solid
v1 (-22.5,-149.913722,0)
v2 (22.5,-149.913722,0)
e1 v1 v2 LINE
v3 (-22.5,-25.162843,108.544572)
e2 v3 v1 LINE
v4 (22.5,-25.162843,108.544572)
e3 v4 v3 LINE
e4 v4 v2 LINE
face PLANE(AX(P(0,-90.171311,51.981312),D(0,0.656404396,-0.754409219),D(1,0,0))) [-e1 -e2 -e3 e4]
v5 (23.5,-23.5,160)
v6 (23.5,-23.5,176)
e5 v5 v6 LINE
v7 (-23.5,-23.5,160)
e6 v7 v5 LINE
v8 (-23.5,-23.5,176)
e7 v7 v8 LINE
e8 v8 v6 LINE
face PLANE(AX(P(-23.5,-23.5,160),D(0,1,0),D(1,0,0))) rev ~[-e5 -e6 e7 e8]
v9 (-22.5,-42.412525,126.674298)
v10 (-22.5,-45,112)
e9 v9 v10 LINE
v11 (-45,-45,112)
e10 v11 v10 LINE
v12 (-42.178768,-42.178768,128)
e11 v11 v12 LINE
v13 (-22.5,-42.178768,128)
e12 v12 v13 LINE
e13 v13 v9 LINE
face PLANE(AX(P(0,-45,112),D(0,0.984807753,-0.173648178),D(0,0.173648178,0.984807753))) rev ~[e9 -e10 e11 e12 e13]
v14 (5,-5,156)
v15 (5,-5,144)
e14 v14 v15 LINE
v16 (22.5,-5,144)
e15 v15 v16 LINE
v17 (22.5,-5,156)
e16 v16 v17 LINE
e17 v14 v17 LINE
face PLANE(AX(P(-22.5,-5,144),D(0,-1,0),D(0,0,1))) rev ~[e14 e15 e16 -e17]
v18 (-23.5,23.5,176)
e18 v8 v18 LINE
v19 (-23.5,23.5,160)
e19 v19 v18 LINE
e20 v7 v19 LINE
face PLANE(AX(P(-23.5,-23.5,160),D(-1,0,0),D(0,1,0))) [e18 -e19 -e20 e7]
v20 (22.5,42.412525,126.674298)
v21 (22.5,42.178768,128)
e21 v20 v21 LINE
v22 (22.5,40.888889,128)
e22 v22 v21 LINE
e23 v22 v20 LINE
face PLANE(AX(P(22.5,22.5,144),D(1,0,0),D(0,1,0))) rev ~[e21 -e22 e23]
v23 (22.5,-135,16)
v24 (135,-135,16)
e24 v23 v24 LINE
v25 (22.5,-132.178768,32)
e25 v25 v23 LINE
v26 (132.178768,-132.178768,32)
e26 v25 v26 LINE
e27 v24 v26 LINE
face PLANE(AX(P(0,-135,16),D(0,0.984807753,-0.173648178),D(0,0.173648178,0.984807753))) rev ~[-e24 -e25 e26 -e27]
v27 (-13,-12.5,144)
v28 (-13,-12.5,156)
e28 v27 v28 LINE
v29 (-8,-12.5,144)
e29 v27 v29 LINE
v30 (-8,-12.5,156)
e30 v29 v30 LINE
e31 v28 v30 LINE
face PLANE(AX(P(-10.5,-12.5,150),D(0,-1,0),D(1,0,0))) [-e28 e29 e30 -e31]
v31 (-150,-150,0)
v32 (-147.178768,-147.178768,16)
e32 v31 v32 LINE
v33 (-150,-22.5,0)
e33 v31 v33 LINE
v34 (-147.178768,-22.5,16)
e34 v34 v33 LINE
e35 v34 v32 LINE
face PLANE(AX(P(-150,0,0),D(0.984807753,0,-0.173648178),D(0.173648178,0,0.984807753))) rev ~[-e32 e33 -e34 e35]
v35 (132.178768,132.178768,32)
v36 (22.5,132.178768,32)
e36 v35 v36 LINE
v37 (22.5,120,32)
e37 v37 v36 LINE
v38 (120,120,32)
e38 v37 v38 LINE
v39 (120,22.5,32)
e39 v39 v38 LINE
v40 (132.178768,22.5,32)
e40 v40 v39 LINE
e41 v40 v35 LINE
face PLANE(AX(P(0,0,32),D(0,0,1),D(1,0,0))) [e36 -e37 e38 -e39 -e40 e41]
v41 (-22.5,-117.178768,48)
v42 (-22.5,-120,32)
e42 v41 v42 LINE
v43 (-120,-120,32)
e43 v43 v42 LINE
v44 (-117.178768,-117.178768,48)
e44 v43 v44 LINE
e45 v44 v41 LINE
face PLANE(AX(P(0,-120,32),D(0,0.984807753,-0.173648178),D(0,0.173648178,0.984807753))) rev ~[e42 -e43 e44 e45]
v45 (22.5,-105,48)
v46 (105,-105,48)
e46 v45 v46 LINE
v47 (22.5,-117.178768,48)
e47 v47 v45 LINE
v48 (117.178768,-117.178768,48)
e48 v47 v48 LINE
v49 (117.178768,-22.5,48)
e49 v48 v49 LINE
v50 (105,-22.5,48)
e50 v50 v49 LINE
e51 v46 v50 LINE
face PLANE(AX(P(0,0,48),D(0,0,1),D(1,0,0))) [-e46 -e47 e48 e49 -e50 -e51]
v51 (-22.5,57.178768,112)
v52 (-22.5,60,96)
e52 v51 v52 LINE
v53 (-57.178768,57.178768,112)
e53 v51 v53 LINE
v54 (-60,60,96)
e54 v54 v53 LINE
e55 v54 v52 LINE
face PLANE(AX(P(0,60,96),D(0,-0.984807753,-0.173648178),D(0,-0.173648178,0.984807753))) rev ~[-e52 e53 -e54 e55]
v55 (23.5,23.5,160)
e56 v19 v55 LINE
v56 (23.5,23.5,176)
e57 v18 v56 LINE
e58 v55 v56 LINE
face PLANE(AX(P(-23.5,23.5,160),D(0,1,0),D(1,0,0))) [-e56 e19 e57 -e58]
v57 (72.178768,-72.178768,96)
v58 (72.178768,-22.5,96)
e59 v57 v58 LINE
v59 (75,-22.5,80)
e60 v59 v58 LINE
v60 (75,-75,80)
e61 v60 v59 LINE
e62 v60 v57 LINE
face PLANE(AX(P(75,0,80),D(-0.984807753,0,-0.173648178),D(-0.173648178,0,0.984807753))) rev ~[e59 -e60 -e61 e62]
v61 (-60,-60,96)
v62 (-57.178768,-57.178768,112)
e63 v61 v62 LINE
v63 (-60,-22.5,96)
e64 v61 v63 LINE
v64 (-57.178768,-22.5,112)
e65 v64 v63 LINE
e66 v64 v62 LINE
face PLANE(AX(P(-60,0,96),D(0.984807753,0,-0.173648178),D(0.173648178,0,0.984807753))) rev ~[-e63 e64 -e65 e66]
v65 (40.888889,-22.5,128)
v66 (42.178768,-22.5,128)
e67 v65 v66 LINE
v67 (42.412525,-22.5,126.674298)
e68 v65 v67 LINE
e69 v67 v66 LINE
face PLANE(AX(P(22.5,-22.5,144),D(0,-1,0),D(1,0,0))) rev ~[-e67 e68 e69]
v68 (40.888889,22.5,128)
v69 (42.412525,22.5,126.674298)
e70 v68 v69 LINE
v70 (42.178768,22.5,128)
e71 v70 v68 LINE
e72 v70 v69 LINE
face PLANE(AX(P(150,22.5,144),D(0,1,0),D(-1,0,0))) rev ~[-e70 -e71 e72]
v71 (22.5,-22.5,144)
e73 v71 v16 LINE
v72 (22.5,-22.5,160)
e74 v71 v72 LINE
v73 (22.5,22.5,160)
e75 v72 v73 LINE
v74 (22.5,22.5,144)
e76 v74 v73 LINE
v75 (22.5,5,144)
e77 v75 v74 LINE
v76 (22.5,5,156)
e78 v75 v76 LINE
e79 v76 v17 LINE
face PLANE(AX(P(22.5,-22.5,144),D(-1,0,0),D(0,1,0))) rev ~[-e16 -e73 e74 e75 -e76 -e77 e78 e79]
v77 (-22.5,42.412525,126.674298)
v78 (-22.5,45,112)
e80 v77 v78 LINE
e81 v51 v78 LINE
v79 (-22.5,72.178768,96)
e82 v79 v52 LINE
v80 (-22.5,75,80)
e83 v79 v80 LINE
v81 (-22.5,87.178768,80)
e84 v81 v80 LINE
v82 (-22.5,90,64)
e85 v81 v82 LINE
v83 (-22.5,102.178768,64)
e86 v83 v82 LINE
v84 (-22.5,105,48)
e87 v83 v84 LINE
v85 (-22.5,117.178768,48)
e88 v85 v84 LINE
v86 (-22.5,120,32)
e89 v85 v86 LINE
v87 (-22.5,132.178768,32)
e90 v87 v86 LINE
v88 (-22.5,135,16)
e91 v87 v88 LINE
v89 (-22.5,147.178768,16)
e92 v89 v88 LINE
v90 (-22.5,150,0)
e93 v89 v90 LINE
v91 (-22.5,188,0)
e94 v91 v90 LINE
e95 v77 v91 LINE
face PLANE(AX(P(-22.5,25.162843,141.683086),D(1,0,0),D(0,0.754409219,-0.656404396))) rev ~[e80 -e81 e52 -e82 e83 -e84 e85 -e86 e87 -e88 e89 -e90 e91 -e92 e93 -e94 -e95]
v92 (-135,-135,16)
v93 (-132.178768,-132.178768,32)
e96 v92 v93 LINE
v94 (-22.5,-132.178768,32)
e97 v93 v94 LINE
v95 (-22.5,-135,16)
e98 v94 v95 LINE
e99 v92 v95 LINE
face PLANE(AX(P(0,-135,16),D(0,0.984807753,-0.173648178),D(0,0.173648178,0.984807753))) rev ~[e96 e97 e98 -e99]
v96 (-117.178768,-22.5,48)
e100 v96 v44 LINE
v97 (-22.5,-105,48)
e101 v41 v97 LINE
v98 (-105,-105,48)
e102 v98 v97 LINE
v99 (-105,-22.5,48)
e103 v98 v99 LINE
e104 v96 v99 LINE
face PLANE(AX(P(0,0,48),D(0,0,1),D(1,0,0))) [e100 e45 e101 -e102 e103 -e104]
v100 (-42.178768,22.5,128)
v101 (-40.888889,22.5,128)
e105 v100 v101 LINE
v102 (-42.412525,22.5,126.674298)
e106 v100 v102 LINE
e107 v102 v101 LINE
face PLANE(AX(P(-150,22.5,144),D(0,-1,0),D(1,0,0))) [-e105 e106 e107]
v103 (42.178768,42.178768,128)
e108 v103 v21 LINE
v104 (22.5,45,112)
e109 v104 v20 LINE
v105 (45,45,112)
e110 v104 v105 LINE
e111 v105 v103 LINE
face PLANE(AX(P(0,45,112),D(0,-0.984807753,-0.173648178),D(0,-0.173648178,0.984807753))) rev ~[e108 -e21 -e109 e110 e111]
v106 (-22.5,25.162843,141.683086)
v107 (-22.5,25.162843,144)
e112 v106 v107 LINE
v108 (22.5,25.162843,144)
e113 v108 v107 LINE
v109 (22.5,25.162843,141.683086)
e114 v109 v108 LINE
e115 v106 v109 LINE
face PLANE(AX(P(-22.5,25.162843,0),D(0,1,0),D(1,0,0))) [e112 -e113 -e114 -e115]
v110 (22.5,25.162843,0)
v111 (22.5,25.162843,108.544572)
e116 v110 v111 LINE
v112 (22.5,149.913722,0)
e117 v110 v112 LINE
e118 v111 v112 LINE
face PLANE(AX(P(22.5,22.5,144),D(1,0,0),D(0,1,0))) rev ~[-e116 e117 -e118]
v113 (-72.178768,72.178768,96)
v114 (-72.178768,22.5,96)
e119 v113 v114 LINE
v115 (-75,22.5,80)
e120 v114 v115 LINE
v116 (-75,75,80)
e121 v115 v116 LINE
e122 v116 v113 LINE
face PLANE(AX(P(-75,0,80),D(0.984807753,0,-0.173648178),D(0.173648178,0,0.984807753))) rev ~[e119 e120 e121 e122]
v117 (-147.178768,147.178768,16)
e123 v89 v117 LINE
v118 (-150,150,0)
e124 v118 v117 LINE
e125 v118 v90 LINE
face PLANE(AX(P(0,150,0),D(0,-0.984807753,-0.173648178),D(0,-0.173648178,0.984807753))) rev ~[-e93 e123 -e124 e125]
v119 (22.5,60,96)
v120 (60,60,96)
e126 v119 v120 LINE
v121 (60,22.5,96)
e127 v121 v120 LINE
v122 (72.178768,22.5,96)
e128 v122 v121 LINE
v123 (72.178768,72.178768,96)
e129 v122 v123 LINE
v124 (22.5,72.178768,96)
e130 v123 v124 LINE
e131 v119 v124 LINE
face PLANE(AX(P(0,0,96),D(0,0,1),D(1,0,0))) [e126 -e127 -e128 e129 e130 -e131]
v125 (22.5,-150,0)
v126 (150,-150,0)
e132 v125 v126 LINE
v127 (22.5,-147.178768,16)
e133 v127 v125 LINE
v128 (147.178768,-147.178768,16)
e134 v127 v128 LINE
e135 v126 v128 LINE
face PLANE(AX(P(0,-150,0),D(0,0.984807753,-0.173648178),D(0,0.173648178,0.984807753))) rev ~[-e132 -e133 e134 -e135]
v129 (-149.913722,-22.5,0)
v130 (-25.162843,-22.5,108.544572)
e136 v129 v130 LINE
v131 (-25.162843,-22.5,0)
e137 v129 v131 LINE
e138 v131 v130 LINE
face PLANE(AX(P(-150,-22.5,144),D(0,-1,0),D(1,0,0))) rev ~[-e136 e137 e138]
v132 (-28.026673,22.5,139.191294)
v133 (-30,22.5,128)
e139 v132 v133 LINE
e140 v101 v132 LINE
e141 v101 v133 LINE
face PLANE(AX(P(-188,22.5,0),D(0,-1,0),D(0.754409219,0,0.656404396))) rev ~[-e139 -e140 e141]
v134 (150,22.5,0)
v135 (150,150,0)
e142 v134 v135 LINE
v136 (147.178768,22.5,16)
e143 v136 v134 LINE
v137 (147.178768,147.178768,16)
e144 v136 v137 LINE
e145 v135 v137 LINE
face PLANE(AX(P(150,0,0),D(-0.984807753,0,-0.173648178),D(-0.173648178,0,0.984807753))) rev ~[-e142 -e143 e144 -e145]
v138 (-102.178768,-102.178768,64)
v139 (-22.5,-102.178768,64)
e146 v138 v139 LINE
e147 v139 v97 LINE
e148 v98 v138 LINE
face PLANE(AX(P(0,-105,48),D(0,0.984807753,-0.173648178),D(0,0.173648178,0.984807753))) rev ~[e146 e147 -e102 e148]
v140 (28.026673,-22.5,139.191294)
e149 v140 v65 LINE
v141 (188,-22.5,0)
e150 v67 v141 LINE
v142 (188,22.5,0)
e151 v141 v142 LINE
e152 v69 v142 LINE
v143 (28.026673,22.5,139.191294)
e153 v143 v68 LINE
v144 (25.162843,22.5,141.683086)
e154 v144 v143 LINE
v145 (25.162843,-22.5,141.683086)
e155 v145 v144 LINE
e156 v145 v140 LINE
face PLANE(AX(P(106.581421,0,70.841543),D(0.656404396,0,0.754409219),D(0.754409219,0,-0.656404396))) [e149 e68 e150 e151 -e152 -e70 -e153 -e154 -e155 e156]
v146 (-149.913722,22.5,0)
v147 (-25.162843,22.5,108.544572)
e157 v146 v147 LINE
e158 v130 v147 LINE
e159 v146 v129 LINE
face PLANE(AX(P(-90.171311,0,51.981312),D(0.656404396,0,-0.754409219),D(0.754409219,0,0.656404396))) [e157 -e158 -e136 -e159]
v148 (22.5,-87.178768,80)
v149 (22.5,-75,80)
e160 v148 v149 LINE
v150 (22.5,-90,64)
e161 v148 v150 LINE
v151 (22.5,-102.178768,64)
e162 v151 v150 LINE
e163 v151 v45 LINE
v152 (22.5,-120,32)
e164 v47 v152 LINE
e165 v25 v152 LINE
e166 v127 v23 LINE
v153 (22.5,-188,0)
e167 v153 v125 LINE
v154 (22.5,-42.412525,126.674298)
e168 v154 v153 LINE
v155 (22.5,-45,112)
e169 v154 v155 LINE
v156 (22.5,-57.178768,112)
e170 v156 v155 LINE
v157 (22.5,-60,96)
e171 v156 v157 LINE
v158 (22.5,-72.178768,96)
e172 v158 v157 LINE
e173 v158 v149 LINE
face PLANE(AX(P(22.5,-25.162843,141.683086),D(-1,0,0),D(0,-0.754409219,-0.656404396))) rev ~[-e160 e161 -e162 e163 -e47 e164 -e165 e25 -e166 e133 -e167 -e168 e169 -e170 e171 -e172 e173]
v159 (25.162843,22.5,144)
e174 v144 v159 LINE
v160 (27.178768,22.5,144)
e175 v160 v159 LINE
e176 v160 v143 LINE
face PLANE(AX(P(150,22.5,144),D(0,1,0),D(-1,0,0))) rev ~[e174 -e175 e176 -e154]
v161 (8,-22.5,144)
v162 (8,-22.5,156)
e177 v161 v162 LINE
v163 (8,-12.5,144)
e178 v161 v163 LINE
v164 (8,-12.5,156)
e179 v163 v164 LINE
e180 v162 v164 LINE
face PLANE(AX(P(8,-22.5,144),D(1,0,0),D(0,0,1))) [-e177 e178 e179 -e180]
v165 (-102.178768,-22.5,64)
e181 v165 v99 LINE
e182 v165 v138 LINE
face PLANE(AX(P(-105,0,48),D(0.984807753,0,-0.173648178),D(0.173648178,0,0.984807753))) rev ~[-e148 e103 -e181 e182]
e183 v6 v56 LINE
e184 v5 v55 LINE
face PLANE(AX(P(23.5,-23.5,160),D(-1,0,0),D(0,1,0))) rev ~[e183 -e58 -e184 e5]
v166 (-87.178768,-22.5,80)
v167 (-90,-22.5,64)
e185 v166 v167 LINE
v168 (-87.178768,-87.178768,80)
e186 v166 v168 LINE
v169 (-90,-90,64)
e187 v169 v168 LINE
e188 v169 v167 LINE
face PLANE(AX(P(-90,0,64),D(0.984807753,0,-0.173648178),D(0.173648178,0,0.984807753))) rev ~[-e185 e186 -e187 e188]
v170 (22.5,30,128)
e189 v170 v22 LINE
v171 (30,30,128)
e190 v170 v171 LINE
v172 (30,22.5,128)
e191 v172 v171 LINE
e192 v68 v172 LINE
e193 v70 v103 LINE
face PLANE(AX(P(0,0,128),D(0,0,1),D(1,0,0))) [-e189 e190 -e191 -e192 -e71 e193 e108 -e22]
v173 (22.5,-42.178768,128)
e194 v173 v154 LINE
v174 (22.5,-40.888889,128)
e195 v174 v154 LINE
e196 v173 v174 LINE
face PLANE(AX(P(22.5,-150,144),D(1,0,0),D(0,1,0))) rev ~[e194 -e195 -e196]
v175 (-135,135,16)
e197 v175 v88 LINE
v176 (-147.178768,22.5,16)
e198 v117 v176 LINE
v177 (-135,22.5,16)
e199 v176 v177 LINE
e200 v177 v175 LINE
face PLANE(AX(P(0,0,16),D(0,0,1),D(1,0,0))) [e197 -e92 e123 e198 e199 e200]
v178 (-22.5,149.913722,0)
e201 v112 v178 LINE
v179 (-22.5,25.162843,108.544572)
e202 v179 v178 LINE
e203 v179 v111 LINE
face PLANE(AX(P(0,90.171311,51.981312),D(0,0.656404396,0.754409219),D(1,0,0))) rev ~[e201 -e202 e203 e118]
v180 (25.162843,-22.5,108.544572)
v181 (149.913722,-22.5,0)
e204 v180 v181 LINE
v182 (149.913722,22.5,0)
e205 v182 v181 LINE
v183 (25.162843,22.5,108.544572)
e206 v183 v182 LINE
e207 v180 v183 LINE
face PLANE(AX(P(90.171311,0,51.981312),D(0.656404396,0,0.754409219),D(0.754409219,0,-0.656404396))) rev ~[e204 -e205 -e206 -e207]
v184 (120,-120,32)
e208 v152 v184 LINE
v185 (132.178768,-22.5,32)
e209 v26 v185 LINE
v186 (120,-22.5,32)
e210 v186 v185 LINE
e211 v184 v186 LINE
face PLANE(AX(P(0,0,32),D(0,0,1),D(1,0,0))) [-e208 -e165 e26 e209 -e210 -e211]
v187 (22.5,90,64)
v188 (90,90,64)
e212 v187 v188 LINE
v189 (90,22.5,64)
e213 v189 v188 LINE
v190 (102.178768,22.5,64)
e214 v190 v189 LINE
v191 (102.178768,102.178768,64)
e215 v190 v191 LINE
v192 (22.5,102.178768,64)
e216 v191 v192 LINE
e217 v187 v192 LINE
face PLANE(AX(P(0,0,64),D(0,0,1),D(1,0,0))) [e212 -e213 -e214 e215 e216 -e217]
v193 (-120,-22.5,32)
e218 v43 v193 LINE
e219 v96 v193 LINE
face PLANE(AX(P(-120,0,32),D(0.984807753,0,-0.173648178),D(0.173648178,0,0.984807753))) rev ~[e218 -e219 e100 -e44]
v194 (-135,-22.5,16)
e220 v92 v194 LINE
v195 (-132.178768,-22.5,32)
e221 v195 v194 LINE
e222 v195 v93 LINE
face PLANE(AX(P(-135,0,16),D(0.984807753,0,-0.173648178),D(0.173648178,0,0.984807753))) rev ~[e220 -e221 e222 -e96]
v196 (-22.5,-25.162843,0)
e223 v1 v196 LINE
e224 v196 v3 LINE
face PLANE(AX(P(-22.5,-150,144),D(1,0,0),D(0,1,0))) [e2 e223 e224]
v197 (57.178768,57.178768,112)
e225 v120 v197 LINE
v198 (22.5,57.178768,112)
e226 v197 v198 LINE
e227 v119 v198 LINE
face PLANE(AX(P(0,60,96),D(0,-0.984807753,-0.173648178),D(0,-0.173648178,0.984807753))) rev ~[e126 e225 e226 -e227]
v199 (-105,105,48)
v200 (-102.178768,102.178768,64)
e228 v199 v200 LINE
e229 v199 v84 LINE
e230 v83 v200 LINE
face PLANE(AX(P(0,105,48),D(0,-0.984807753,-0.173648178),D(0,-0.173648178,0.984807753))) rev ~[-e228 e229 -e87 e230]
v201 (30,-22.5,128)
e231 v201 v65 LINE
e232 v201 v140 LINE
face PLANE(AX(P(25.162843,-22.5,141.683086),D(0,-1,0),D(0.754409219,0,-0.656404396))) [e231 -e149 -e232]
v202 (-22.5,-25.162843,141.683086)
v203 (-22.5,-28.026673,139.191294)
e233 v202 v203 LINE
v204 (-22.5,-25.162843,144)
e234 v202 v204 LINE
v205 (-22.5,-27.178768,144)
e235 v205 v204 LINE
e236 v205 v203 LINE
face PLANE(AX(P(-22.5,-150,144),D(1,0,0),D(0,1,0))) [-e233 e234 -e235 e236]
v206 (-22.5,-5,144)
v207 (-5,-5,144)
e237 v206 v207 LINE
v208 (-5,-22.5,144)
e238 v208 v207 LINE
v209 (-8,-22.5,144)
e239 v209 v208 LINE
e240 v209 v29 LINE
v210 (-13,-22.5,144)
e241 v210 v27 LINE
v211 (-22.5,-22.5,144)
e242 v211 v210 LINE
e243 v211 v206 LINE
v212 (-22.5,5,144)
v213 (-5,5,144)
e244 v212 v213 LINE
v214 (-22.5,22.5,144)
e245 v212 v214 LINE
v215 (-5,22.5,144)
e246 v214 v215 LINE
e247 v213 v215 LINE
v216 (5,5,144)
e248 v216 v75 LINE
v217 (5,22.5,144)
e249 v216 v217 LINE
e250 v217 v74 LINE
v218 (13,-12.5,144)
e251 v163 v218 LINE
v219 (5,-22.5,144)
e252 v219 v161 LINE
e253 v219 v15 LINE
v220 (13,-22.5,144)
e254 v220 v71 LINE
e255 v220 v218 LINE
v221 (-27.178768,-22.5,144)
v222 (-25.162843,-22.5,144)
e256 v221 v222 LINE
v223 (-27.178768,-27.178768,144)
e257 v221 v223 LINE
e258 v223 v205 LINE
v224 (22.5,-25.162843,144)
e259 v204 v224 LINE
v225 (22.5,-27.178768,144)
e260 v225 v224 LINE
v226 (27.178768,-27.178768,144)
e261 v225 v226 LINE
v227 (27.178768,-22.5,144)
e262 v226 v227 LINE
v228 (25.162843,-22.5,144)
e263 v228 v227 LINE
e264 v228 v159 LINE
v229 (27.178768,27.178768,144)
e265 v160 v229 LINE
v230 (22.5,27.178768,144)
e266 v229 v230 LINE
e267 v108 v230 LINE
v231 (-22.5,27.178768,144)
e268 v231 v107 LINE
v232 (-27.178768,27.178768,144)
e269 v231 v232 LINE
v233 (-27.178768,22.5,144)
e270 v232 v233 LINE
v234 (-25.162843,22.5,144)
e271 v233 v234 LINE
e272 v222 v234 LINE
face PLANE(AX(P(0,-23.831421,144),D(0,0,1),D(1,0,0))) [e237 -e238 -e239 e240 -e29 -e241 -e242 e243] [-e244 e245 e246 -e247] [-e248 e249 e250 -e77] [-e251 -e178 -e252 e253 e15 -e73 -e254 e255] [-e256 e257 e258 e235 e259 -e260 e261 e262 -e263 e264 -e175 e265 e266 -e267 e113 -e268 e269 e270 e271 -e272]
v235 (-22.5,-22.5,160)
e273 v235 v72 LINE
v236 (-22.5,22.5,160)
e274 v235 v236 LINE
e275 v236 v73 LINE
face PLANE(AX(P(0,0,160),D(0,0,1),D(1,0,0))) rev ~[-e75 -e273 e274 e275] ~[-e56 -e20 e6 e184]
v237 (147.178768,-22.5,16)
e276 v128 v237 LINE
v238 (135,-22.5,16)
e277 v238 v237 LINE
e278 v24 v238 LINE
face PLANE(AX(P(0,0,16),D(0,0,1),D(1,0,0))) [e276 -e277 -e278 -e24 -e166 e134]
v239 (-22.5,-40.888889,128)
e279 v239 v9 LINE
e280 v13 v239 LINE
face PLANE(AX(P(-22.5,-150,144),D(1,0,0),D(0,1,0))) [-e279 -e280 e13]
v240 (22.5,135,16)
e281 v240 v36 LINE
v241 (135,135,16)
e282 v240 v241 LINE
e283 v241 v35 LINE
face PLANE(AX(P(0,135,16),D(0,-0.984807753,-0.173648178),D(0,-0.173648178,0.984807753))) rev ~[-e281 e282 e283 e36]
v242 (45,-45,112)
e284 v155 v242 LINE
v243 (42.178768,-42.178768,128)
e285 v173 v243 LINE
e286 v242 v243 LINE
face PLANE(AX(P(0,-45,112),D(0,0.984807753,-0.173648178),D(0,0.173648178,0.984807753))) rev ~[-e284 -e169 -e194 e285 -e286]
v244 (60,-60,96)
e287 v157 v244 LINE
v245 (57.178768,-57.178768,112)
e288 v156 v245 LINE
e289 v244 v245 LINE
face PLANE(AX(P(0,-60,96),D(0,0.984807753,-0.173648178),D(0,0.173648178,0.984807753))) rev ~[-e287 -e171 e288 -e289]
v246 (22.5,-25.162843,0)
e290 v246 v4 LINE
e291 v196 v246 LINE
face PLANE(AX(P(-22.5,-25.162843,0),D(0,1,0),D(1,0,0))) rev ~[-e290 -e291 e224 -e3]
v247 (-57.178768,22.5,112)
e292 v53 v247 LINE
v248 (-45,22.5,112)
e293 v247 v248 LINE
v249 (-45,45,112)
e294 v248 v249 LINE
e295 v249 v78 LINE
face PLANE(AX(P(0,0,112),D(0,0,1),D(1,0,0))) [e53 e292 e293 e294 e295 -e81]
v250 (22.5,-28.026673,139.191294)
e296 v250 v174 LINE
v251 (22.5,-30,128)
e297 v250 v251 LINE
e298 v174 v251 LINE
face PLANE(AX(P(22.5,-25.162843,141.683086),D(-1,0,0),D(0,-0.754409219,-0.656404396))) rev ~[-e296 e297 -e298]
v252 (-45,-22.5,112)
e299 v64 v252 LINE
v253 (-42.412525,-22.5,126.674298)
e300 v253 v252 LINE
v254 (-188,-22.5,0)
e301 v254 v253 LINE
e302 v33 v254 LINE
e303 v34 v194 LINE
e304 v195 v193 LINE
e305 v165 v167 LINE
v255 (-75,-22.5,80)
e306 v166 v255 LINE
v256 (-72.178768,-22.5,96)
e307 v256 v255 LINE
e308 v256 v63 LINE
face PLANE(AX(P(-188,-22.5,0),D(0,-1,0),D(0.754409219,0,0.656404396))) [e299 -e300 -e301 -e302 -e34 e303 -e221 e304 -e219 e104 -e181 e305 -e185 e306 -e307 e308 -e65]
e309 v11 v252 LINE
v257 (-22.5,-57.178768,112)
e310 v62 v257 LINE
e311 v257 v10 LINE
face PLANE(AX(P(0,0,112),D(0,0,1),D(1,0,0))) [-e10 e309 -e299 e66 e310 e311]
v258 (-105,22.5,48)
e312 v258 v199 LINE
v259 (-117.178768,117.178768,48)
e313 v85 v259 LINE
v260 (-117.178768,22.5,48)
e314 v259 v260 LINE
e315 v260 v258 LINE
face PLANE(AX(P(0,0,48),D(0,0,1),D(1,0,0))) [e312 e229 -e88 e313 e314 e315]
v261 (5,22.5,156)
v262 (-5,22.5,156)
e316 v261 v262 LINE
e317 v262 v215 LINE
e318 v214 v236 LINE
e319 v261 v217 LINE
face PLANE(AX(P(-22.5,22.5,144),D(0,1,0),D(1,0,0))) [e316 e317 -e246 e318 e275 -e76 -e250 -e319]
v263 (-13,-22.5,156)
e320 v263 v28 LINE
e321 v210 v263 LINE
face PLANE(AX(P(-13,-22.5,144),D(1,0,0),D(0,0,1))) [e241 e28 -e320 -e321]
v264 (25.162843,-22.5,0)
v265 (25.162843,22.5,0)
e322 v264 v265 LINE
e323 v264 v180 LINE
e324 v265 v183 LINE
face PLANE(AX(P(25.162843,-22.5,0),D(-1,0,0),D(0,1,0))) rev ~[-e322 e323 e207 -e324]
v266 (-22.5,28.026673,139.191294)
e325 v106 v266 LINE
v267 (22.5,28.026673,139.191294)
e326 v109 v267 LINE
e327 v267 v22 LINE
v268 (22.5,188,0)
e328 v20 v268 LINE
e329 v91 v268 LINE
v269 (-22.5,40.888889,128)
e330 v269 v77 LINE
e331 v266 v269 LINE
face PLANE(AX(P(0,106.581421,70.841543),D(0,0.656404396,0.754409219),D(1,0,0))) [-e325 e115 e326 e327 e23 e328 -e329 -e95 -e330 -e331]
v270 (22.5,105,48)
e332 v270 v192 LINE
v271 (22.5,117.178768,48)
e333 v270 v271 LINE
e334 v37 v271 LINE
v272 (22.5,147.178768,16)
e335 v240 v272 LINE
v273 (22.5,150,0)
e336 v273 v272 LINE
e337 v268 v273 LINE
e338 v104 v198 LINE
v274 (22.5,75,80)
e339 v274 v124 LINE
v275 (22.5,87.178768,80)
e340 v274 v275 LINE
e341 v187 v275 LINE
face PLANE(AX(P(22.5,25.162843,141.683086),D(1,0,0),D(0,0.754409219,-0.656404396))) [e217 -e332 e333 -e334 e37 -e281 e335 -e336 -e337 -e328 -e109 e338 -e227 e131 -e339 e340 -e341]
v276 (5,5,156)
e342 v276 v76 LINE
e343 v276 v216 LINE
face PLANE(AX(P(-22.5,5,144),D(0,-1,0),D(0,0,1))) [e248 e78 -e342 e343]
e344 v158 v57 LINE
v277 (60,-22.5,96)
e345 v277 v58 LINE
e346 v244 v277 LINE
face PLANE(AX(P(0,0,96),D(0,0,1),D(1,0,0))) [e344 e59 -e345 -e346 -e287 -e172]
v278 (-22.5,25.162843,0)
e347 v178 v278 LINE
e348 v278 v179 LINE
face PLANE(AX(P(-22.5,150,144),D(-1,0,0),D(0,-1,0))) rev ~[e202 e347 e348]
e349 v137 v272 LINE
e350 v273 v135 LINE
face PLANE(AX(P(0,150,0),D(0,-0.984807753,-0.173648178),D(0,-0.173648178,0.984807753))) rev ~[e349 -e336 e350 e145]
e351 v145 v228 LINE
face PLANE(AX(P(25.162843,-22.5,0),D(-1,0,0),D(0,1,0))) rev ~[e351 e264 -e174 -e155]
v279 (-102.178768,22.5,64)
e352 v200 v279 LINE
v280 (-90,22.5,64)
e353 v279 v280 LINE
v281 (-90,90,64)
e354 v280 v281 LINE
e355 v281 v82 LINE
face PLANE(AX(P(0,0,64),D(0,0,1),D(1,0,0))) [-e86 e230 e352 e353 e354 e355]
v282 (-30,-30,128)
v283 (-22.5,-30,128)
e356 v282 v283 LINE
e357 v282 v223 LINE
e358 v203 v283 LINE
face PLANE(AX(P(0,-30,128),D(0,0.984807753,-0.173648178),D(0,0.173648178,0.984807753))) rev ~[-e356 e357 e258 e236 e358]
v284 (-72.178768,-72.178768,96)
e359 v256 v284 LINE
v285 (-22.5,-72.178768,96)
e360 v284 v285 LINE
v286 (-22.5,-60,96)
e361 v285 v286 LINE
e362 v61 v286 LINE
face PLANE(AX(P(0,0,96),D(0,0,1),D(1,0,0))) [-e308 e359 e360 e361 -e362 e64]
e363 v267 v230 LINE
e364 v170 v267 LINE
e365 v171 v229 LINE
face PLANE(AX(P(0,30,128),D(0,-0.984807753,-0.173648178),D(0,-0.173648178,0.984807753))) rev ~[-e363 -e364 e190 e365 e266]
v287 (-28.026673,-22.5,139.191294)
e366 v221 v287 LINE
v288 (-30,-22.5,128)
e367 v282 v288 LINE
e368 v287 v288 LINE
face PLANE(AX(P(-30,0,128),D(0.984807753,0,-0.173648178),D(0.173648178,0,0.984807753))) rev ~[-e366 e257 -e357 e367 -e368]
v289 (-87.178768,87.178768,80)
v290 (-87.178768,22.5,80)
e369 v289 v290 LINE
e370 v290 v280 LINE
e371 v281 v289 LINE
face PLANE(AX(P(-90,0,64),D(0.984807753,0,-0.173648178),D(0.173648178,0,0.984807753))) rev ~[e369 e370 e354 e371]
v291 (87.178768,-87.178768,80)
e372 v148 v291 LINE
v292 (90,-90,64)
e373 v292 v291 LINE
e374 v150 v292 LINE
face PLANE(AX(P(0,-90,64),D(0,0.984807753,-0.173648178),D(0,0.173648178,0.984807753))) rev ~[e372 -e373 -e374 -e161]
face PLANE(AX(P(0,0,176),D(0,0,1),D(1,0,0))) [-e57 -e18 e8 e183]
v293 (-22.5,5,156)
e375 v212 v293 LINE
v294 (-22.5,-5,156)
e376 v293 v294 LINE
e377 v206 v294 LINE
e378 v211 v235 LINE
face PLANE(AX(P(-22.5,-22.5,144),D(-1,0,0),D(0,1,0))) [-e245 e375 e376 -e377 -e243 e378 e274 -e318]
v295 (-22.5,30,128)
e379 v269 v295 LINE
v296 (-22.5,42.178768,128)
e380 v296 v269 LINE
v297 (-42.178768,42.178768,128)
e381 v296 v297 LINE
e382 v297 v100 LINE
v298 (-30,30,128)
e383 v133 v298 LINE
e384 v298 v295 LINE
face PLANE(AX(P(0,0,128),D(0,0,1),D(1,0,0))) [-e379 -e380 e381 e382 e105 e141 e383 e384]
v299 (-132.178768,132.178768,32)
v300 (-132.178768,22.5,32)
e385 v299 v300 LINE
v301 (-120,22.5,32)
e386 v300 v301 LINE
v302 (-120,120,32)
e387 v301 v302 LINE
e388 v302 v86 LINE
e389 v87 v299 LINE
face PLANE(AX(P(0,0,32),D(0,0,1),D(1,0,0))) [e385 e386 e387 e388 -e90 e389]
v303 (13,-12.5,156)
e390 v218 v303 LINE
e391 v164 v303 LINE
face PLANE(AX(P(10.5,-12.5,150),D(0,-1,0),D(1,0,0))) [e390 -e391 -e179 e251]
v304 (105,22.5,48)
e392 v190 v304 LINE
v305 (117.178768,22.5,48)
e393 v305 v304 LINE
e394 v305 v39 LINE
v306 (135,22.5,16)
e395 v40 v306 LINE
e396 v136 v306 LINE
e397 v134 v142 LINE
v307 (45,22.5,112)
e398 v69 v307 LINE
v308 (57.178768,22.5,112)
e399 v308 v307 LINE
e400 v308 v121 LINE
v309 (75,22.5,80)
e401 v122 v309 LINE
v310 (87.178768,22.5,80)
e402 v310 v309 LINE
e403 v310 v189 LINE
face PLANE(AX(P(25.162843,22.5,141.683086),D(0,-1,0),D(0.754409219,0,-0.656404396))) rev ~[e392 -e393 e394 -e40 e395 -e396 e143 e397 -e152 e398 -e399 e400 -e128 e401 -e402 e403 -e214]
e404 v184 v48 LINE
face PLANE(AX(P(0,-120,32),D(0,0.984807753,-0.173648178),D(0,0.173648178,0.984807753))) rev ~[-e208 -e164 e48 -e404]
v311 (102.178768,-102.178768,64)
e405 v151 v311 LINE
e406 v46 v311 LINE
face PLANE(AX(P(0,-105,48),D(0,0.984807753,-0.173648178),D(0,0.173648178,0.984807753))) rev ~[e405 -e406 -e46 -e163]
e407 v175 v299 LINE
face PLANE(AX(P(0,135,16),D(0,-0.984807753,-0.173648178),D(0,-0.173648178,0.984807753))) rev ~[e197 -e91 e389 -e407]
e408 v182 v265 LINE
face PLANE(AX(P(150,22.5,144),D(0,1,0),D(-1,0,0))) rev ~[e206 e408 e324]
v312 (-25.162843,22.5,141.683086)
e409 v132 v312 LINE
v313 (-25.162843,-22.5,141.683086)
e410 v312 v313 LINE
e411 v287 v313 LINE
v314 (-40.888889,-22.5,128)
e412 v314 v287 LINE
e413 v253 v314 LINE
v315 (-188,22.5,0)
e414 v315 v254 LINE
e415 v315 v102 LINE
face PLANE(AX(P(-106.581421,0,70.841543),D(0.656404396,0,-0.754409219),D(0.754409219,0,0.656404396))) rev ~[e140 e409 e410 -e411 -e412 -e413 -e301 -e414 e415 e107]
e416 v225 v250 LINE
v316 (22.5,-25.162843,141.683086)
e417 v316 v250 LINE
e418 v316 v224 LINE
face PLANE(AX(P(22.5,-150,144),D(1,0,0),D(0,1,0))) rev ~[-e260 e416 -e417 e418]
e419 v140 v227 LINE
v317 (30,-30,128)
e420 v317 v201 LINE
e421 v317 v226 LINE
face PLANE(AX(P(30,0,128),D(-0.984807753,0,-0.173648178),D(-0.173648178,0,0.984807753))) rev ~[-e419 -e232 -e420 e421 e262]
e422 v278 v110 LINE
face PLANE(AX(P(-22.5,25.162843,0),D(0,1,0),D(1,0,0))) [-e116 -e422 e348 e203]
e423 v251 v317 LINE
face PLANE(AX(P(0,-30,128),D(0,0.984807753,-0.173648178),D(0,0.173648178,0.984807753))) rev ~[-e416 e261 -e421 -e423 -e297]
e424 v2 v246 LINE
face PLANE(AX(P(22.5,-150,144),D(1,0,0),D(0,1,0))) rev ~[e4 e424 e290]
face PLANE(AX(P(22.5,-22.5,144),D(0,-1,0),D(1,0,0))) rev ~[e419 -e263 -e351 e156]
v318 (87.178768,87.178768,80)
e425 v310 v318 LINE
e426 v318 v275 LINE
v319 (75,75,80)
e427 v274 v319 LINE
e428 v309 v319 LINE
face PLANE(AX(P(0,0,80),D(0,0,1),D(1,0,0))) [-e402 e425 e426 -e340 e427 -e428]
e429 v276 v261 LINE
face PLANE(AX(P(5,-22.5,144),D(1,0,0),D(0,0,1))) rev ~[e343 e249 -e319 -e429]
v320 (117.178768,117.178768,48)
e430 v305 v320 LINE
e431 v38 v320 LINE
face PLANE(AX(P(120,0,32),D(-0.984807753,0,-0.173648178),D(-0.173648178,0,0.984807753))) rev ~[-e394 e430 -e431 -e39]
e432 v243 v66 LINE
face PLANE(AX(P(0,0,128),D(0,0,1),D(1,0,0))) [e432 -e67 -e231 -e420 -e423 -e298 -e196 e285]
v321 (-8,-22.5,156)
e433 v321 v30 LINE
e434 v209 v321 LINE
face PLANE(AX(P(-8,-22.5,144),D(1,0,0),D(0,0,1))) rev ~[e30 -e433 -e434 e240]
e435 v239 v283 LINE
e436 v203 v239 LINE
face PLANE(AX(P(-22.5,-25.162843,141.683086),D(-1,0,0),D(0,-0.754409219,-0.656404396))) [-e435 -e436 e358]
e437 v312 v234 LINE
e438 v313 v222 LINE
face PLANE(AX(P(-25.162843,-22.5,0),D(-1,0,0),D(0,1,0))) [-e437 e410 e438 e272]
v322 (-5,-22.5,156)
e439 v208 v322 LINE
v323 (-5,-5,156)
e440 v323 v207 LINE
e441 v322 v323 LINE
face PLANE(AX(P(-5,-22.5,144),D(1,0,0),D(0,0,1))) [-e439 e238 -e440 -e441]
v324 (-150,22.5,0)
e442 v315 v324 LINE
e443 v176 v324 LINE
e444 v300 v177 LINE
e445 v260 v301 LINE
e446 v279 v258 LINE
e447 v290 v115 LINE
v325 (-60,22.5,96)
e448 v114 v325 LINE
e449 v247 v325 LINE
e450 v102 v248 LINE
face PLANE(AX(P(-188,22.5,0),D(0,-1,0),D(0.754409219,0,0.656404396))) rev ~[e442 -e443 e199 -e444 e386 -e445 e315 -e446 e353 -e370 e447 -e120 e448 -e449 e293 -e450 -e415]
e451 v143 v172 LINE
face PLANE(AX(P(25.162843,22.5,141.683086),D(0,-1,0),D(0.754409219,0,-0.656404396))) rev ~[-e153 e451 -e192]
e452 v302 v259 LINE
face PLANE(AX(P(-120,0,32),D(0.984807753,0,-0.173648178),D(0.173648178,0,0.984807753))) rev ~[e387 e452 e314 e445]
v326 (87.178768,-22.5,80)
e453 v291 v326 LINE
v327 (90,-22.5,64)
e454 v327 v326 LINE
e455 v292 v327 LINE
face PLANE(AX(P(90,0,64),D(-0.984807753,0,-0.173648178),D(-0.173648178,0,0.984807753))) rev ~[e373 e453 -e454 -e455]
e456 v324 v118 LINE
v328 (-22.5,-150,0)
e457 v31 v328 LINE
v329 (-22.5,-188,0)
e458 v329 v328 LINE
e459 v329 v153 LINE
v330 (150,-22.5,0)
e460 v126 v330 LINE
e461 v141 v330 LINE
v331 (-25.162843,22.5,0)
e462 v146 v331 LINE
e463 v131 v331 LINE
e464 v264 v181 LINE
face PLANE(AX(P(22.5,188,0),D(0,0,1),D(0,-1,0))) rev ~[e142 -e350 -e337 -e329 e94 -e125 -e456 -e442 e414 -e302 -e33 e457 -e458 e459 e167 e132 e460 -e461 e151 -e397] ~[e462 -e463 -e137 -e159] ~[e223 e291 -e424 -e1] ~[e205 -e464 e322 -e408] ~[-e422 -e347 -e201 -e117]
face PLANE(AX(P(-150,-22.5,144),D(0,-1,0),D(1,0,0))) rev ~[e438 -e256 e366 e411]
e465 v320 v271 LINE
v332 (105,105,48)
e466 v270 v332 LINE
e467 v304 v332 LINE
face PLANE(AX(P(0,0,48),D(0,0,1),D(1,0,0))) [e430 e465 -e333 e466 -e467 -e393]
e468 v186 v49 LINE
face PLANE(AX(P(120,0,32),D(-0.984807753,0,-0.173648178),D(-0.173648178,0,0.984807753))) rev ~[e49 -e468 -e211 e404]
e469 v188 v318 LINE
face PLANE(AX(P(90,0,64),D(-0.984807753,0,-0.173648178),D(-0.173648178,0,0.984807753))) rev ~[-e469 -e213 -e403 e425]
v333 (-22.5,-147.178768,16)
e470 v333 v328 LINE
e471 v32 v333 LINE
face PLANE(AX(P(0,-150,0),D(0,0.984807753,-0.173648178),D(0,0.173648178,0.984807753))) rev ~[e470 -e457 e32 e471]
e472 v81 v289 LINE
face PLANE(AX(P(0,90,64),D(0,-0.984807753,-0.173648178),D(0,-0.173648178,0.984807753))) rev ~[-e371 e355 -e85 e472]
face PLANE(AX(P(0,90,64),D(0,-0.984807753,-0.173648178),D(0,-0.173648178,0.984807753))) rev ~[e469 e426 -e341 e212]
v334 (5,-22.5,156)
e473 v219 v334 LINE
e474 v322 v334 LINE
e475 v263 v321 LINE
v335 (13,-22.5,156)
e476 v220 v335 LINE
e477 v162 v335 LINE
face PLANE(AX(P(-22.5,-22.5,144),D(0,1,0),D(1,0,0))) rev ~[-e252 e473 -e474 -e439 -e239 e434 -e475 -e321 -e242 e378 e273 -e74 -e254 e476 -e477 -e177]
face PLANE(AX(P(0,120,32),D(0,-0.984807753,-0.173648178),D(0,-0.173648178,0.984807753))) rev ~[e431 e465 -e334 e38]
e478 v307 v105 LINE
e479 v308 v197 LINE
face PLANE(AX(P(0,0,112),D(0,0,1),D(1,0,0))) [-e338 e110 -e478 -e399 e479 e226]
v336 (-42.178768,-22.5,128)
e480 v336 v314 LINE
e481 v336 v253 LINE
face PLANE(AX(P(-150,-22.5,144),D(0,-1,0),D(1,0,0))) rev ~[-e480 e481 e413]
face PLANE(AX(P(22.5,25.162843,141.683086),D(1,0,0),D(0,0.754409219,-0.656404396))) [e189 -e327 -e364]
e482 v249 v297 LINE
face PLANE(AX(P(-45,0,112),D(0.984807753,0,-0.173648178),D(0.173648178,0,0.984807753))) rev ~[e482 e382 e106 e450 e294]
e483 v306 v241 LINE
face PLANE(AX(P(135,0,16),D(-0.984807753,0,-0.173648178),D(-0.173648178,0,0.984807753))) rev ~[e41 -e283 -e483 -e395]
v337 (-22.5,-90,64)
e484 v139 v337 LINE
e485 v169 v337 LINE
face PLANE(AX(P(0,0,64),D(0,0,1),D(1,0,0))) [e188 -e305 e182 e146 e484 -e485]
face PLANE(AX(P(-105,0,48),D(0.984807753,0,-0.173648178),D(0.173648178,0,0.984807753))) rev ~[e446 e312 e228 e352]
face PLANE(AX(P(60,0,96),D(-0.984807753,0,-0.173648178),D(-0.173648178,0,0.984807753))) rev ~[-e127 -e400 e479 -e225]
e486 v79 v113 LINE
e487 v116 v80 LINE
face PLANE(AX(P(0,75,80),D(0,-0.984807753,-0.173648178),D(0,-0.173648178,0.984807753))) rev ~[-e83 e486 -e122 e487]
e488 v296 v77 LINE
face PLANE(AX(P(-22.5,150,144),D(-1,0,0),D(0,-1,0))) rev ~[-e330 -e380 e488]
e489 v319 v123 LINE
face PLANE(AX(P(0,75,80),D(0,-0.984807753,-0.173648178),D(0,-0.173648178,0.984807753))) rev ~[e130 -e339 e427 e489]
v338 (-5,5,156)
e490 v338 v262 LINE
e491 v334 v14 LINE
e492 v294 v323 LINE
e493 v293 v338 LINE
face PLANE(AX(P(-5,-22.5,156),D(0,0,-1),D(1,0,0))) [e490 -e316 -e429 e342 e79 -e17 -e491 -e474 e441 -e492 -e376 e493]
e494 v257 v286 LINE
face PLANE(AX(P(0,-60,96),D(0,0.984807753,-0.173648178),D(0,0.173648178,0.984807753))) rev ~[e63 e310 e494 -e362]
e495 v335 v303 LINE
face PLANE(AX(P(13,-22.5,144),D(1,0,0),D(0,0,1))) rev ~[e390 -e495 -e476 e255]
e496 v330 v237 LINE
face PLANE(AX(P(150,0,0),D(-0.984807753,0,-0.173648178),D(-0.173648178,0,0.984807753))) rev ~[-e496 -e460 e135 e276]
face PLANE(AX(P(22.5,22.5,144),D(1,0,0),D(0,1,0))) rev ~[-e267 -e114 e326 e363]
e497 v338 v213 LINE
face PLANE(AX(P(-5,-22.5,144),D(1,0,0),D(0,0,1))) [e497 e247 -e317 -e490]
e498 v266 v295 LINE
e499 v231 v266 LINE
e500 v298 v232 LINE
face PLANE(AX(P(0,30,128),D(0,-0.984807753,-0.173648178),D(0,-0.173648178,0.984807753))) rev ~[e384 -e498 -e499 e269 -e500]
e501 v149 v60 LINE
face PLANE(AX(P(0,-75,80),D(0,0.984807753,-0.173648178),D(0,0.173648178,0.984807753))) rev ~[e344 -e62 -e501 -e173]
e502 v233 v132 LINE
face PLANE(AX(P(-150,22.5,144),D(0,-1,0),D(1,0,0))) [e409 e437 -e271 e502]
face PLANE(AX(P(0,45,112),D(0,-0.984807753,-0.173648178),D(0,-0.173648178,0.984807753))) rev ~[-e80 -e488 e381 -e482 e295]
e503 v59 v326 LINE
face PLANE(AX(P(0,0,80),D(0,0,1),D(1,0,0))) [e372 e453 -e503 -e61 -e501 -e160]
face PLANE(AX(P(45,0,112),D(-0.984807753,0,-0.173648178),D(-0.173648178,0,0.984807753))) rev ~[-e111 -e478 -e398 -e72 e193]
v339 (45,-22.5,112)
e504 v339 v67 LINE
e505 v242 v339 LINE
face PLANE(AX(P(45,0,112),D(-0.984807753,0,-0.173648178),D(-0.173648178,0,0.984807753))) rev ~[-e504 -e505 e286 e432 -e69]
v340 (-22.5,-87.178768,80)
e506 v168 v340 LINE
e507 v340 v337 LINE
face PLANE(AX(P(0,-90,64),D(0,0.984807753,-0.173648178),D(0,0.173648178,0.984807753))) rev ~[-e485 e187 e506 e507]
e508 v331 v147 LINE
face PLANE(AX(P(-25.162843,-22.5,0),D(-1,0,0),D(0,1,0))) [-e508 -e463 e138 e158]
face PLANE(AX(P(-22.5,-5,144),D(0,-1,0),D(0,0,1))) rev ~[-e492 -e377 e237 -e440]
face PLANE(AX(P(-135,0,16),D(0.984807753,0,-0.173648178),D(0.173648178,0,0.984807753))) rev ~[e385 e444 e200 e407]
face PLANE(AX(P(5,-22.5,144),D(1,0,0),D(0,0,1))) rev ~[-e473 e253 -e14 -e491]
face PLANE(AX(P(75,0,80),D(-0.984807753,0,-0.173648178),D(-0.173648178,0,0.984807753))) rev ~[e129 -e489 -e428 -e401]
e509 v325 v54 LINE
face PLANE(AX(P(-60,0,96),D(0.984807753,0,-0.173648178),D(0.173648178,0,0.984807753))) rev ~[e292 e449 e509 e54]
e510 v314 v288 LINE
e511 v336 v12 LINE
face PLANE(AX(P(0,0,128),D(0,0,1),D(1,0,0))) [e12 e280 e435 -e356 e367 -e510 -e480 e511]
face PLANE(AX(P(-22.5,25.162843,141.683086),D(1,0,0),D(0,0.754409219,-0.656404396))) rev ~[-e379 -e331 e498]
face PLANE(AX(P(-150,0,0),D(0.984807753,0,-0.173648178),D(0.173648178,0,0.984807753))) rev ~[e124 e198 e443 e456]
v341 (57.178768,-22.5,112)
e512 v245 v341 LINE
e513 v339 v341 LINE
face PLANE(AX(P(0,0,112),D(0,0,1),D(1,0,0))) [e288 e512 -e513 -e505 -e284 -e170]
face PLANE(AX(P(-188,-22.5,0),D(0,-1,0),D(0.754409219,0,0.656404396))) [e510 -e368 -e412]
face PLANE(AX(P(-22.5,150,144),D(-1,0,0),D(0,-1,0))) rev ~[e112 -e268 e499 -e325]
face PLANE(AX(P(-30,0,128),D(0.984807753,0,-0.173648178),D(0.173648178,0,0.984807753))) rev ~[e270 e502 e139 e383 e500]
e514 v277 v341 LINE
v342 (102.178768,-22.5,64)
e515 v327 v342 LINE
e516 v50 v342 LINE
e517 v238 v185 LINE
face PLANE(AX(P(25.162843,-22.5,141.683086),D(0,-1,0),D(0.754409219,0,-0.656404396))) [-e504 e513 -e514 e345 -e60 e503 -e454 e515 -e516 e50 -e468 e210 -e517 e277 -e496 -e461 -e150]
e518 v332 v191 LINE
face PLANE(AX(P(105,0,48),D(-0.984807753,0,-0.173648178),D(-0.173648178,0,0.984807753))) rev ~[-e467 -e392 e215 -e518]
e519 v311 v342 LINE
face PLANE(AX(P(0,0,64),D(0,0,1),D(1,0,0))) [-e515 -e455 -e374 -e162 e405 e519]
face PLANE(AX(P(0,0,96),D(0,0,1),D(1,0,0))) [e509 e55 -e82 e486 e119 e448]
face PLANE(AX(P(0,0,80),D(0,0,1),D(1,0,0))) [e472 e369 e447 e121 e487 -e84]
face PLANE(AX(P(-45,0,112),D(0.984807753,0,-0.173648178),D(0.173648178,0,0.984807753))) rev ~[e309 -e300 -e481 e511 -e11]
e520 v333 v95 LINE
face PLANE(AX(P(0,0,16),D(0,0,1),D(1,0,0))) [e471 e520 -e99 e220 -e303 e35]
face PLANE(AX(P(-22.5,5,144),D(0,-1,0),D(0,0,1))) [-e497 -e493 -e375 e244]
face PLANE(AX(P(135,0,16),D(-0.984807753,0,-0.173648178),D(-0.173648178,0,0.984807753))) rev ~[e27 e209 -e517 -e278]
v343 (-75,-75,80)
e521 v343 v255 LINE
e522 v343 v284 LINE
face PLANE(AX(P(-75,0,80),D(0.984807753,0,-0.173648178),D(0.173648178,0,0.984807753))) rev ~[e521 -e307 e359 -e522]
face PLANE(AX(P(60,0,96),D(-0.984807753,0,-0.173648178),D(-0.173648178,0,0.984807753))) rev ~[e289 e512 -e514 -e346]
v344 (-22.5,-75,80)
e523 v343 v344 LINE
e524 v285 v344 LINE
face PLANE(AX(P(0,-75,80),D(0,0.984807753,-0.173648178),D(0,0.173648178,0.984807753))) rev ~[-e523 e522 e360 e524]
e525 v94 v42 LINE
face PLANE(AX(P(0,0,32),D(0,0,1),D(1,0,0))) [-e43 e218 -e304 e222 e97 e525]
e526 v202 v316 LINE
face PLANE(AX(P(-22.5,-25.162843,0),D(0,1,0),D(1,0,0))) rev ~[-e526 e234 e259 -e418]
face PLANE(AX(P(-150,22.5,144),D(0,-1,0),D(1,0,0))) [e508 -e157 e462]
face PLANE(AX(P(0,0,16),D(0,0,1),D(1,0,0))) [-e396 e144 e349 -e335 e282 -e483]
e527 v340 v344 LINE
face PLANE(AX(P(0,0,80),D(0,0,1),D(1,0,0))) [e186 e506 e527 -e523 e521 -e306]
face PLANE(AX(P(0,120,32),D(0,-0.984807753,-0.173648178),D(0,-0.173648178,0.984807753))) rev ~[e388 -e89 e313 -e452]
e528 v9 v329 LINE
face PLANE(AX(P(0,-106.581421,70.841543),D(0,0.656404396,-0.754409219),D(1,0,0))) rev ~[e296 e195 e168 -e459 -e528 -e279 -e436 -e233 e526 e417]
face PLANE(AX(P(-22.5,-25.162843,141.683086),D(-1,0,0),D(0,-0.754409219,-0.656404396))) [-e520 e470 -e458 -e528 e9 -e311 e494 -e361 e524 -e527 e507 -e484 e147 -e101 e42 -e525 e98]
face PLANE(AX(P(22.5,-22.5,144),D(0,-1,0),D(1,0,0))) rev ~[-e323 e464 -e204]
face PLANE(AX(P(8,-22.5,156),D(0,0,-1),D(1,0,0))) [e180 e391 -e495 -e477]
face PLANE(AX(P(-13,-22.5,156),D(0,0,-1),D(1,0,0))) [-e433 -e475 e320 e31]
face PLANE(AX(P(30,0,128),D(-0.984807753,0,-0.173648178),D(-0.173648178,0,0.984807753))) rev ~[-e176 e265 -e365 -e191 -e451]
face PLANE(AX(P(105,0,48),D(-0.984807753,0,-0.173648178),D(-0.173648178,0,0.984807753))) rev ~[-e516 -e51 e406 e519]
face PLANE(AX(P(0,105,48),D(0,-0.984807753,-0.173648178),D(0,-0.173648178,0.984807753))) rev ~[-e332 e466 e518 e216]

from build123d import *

# Parameters (mm, degrees)
F0_W      = 300
F0_H      = 300
F1_DEPTH  = 16
F1_TAPER  = 10
F2_W      = 270
F2_H      = 270
F3_DEPTH  = 16
F3_TAPER  = 10
F4_W      = 240
F4_H      = 240
F5_DEPTH  = 16
F5_TAPER  = 10
F6_W      = 210
F6_H      = 210
F7_DEPTH  = 16
F7_TAPER  = 10
F8_W      = 180
F8_H      = 180
F9_DEPTH  = 16
F9_TAPER  = 10
F10_W     = 150
F10_H     = 150
F11_DEPTH = 16
F11_TAPER = 10
F12_W     = 120
F12_H     = 120
F13_DEPTH = 16
F13_TAPER = 10
F14_W     = 90
F14_H     = 90
F15_DEPTH = 16
F15_TAPER = 10
F16_W     = 60
F16_H     = 60
F17_DEPTH = 16
F17_TAPER = 10
F18_W     = 127.5
F18_H     = 45
F18_W_2   = 45
F18_H_2   = 127.5
F19_DEPTH = 144.001
F24_W     = 215.8472527365
F24_H     = 45
F25_DEPTH = 25
F35_DEPTH = 172.501
F36_W     = 45
F36_H     = 215.8472527365
F37_DEPTH = 25
F39_DEPTH = 172.501
F40_W     = 45
F40_H     = 16.4101098933
F41_DEPTH = 144.001
F42_W     = 45
F42_H     = 215.8472527365
F43_DEPTH = 25
F44_W     = 215.8472527365
F44_H     = 45
F45_DEPTH = 25
F47_DEPTH = 210.501
F49_DEPTH = 210.501
F51_DEPTH = 144.001
F52_W     = 2.6628427036
F52_H     = 45
F53_DEPTH = 144.001
F54_W     = 45
F54_H     = 2.6628427036
F54_H_2   = 45
F54_W_2   = 2.6628427036
F55_DEPTH = 144
F57_W     = 45
F57_H     = 45
F58_DEPTH = 16
F59_W     = 47
F59_H     = 47
F60_DEPTH = 16
F61_W     = 10
F61_H     = 12
F62_DEPTH = 210.501
F61_W_2   = 5
F63_DEPTH = 10
F64_W     = 10
F64_H     = 12
F65_DEPTH = 210.501


with BuildPart() as f1:
    # F0 (on Top) → F1 (new body)
    with BuildSketch(Plane.XY):
        Rectangle(F0_W, F0_H)
    extrude(amount=F1_DEPTH, taper=F1_TAPER)

    # F2 (on face) → F3 (join)
    with BuildSketch(Plane.XY.offset(16)):
        Rectangle(F2_W, F2_H)
    extrude(amount=F3_DEPTH, taper=F3_TAPER)

    # F4 (on face) → F5 (join)
    with BuildSketch(Plane.XY.offset(32)):
        Rectangle(F4_W, F4_H)
    extrude(amount=F5_DEPTH, taper=F5_TAPER)

    # F6 (on face) → F7 (join)
    with BuildSketch(Plane.XY.offset(48)):
        Rectangle(F6_W, F6_H)
    extrude(amount=F7_DEPTH, taper=F7_TAPER)

    # F8 (on face) → F9 (join)
    with BuildSketch(Plane.XY.offset(64)):
        Rectangle(F8_W, F8_H)
    extrude(amount=F9_DEPTH, taper=F9_TAPER)

    # F10 (on face) → F11 (join)
    with BuildSketch(Plane.XY.offset(80)):
        Rectangle(F10_W, F10_H)
    extrude(amount=F11_DEPTH, taper=F11_TAPER)

    # F12 (on face) → F13 (join)
    with BuildSketch(Plane.XY.offset(96)):
        Rectangle(F12_W, F12_H)
    extrude(amount=F13_DEPTH, taper=F13_TAPER)

    # F14 (on face) → F15 (join)
    with BuildSketch(Plane.XY.offset(112)):
        Rectangle(F14_W, F14_H)
    extrude(amount=F15_DEPTH, taper=F15_TAPER)

    # F16 (on face) → F17 (join)
    with BuildSketch(Plane.XY.offset(128)):
        Rectangle(F16_W, F16_H)
    extrude(amount=F17_DEPTH, taper=F17_TAPER)

    # F18 (on face) → F19 (cut, through all)
    with BuildSketch(Plane.XY.offset(144)):
        with Locations((86.25, 0)):
            Rectangle(F18_W, F18_H)
        Rectangle(F18_W_2, F18_H)
        with Locations((0, 86.25)):
            Rectangle(F18_W_2, F18_H_2)
        with Locations((-86.25, 0)):
            Rectangle(F18_W, F18_H)
        with Locations((0, -86.25)):
            Rectangle(F18_W_2, F18_H_2)
    extrude(amount=-F19_DEPTH, mode=Mode.SUBTRACT)


with BuildPart() as f25:
    # F24 (on 3pt) → F25 (new body)
    with BuildSketch(Plane(origin=(81.002945378, 0, 93.0971351393), x_dir=(0.7544092187, 0, -0.6564043957), z_dir=(0.6564043957, 0, 0.7544092187))):
        with Locations((33.9053067481, 0)):
            Rectangle(F24_W, F24_H)
    extrude(amount=-F25_DEPTH)

    # F34 (on face) → F35 (cut, through all)
    with BuildSketch(Plane(origin=(0, 22.5, 0), x_dir=(-1, 0, 0), z_dir=(0, 1, 0))):
        Polygon((-8.7527328104, 122.822855035), (-22.5, 138.6226655897), (-22.5, 110.8614866041), align=None)
        Polygon((-171.5898901067, -18.8602304676), (-149.9137224513, 0), (-188, 0), align=None)
    extrude(amount=-F35_DEPTH, mode=Mode.SUBTRACT)

    # F52 (on face) → F53 (cut, through all)
    with BuildSketch(Plane.XY.offset(144)):
        with Locations((23.8314213518, 0)):
            Rectangle(F52_W, F52_H)
    extrude(amount=-F53_DEPTH, mode=Mode.SUBTRACT)


with BuildPart() as f37:
    # F36 (on 3pt) → F37 (new body)
    with BuildSketch(Plane(origin=(0, 81.002945378, 93.0971351393), x_dir=(1, 0, 0), z_dir=(0, 0.6564043957, 0.7544092187))):
        with Locations((0, 33.9053067481)):
            Rectangle(F36_W, F36_H)
    extrude(amount=-F37_DEPTH)

    # F38 (on face) → F39 (cut, through all)
    with BuildSketch(Plane.YZ.offset(22.5)):
        Polygon((171.5898901067, -18.8602304676), (188, 0), (149.9137224513, 0), align=None)
    extrude(amount=-F39_DEPTH, mode=Mode.SUBTRACT)

    # F40 (on face) → F41 (cut, through all)
    with BuildSketch(Plane.XY.offset(144)):
        with Locations((0, 16.957787757)):
            Rectangle(F40_W, F40_H)
    extrude(amount=-F41_DEPTH, mode=Mode.SUBTRACT)


with BuildPart() as f43:
    # F42 (on 3pt) → F43 (new body)
    with BuildSketch(Plane(origin=(0, -81.002945378, 93.0971351393), x_dir=(1, 0, 0), z_dir=(0, 0.6564043957, -0.7544092187))):
        with Locations((0, 33.9053067481)):
            Rectangle(F42_W, F42_H)
    extrude(amount=F43_DEPTH)

    # F46 (on face) → F47 (cut, through all)
    with BuildSketch(Plane(origin=(-22.5, 0, 0), x_dir=(0, -1, 0), z_dir=(-1, 0, 0))):
        Polygon((171.5898901067, -18.8602304676), (188, 0), (149.9137224513, 0), align=None)
    extrude(amount=-F47_DEPTH, mode=Mode.SUBTRACT)


with BuildPart() as f45:
    # F44 (on 3pt) → F45 (new body)
    with BuildSketch(Plane(origin=(-81.002945378, 0, 93.0971351393), x_dir=(0.7544092187, 0, 0.6564043957), z_dir=(0.6564043957, 0, -0.7544092187))):
        with Locations((-33.9053067481, 0)):
            Rectangle(F44_W, F44_H)
    extrude(amount=F45_DEPTH)

    # F48 (on face) → F49 (cut, through all)
    with BuildSketch(Plane(origin=(0, 22.5, 0), x_dir=(-1, 0, 0), z_dir=(0, 1, 0))):
        Polygon((171.5898901067, -18.8602304676), (188, 0), (149.9137224513, 0), align=None)
    extrude(amount=-F49_DEPTH, mode=Mode.SUBTRACT)


with BuildPart() as f51_tool:
    # F50 (on face) → F51 (new body, through all)
    with BuildSketch(Plane.XY.offset(144)):
        Polygon((-22.5, -25.1628427036), (22.5, -25.1628427036), (22.5, -8.7527328104), (-8.7527328104, -8.7527328104), (-8.7527328104, 22.5), (-25.1628427036, 22.5), (-25.1628427036, -22.5), (-22.5, -22.5), align=None)
    extrude(amount=-F51_DEPTH)


with BuildPart() as f43_1:
    add(f43.part)

    # F51: cut by f51_tool
    add(f51_tool.part, mode=Mode.SUBTRACT)


with BuildPart() as f45_1:
    add(f45.part)

    # F51: cut by f51_tool
    add(f51_tool.part, mode=Mode.SUBTRACT)


with BuildPart() as f55:
    # F54 (on Top) → F55 (new body)
    with BuildSketch(Plane.XY):
        with Locations((0, -23.8314213518)):
            Rectangle(F54_W, F54_H)
        Rectangle(F54_W, F54_H_2)
        with Locations((23.8314213518, 0)):
            Rectangle(F54_W_2, F54_H_2)
        with Locations((-23.8314213518, 0)):
            Rectangle(F54_W_2, F54_H_2)
        with Locations((0, 23.8314213518)):
            Rectangle(F54_W, F54_H)
    extrude(amount=F55_DEPTH)


with BuildPart() as f1_1:
    add(f1.part)

    # F56: union F25, F43, F45, F55, F37
    add(f25.part)
    add(f43_1.part)
    add(f45_1.part)
    add(f55.part)
    add(f37.part)

    # F57 (on face) → F58 (join)
    with BuildSketch(Plane.XY.offset(144)):
        Rectangle(F57_W, F57_H)
    extrude(amount=F58_DEPTH)

    # F59 (on face) → F60 (join)
    with BuildSketch(Plane.XY.offset(160)):
        Rectangle(F59_W, F59_H)
    extrude(amount=F60_DEPTH)

    # F61 (on face) → F62 (cut, through all)
    with BuildSketch(Plane.XZ.offset(22.5)):
        with Locations((0, 150)):
            Rectangle(F61_W, F61_H)
    extrude(amount=-F62_DEPTH, mode=Mode.SUBTRACT)

    # F61 (on face) → F63 (cut)
    with BuildSketch(Plane.XZ.offset(22.5)):
        with Locations((-10.5, 150)):
            Rectangle(F61_W_2, F61_H)
        with Locations((10.5, 150)):
            Rectangle(F61_W_2, F61_H)
    extrude(amount=-F63_DEPTH, mode=Mode.SUBTRACT)

    # F64 (on face) → F65 (cut, through all)
    with BuildSketch(Plane(origin=(-22.5, 0, 0), x_dir=(0, -1, 0), z_dir=(-1, 0, 0))):
        with Locations((0, 150)):
            Rectangle(F64_W, F64_H)
    extrude(amount=-F65_DEPTH, mode=Mode.SUBTRACT)


solid = f1_1.part
